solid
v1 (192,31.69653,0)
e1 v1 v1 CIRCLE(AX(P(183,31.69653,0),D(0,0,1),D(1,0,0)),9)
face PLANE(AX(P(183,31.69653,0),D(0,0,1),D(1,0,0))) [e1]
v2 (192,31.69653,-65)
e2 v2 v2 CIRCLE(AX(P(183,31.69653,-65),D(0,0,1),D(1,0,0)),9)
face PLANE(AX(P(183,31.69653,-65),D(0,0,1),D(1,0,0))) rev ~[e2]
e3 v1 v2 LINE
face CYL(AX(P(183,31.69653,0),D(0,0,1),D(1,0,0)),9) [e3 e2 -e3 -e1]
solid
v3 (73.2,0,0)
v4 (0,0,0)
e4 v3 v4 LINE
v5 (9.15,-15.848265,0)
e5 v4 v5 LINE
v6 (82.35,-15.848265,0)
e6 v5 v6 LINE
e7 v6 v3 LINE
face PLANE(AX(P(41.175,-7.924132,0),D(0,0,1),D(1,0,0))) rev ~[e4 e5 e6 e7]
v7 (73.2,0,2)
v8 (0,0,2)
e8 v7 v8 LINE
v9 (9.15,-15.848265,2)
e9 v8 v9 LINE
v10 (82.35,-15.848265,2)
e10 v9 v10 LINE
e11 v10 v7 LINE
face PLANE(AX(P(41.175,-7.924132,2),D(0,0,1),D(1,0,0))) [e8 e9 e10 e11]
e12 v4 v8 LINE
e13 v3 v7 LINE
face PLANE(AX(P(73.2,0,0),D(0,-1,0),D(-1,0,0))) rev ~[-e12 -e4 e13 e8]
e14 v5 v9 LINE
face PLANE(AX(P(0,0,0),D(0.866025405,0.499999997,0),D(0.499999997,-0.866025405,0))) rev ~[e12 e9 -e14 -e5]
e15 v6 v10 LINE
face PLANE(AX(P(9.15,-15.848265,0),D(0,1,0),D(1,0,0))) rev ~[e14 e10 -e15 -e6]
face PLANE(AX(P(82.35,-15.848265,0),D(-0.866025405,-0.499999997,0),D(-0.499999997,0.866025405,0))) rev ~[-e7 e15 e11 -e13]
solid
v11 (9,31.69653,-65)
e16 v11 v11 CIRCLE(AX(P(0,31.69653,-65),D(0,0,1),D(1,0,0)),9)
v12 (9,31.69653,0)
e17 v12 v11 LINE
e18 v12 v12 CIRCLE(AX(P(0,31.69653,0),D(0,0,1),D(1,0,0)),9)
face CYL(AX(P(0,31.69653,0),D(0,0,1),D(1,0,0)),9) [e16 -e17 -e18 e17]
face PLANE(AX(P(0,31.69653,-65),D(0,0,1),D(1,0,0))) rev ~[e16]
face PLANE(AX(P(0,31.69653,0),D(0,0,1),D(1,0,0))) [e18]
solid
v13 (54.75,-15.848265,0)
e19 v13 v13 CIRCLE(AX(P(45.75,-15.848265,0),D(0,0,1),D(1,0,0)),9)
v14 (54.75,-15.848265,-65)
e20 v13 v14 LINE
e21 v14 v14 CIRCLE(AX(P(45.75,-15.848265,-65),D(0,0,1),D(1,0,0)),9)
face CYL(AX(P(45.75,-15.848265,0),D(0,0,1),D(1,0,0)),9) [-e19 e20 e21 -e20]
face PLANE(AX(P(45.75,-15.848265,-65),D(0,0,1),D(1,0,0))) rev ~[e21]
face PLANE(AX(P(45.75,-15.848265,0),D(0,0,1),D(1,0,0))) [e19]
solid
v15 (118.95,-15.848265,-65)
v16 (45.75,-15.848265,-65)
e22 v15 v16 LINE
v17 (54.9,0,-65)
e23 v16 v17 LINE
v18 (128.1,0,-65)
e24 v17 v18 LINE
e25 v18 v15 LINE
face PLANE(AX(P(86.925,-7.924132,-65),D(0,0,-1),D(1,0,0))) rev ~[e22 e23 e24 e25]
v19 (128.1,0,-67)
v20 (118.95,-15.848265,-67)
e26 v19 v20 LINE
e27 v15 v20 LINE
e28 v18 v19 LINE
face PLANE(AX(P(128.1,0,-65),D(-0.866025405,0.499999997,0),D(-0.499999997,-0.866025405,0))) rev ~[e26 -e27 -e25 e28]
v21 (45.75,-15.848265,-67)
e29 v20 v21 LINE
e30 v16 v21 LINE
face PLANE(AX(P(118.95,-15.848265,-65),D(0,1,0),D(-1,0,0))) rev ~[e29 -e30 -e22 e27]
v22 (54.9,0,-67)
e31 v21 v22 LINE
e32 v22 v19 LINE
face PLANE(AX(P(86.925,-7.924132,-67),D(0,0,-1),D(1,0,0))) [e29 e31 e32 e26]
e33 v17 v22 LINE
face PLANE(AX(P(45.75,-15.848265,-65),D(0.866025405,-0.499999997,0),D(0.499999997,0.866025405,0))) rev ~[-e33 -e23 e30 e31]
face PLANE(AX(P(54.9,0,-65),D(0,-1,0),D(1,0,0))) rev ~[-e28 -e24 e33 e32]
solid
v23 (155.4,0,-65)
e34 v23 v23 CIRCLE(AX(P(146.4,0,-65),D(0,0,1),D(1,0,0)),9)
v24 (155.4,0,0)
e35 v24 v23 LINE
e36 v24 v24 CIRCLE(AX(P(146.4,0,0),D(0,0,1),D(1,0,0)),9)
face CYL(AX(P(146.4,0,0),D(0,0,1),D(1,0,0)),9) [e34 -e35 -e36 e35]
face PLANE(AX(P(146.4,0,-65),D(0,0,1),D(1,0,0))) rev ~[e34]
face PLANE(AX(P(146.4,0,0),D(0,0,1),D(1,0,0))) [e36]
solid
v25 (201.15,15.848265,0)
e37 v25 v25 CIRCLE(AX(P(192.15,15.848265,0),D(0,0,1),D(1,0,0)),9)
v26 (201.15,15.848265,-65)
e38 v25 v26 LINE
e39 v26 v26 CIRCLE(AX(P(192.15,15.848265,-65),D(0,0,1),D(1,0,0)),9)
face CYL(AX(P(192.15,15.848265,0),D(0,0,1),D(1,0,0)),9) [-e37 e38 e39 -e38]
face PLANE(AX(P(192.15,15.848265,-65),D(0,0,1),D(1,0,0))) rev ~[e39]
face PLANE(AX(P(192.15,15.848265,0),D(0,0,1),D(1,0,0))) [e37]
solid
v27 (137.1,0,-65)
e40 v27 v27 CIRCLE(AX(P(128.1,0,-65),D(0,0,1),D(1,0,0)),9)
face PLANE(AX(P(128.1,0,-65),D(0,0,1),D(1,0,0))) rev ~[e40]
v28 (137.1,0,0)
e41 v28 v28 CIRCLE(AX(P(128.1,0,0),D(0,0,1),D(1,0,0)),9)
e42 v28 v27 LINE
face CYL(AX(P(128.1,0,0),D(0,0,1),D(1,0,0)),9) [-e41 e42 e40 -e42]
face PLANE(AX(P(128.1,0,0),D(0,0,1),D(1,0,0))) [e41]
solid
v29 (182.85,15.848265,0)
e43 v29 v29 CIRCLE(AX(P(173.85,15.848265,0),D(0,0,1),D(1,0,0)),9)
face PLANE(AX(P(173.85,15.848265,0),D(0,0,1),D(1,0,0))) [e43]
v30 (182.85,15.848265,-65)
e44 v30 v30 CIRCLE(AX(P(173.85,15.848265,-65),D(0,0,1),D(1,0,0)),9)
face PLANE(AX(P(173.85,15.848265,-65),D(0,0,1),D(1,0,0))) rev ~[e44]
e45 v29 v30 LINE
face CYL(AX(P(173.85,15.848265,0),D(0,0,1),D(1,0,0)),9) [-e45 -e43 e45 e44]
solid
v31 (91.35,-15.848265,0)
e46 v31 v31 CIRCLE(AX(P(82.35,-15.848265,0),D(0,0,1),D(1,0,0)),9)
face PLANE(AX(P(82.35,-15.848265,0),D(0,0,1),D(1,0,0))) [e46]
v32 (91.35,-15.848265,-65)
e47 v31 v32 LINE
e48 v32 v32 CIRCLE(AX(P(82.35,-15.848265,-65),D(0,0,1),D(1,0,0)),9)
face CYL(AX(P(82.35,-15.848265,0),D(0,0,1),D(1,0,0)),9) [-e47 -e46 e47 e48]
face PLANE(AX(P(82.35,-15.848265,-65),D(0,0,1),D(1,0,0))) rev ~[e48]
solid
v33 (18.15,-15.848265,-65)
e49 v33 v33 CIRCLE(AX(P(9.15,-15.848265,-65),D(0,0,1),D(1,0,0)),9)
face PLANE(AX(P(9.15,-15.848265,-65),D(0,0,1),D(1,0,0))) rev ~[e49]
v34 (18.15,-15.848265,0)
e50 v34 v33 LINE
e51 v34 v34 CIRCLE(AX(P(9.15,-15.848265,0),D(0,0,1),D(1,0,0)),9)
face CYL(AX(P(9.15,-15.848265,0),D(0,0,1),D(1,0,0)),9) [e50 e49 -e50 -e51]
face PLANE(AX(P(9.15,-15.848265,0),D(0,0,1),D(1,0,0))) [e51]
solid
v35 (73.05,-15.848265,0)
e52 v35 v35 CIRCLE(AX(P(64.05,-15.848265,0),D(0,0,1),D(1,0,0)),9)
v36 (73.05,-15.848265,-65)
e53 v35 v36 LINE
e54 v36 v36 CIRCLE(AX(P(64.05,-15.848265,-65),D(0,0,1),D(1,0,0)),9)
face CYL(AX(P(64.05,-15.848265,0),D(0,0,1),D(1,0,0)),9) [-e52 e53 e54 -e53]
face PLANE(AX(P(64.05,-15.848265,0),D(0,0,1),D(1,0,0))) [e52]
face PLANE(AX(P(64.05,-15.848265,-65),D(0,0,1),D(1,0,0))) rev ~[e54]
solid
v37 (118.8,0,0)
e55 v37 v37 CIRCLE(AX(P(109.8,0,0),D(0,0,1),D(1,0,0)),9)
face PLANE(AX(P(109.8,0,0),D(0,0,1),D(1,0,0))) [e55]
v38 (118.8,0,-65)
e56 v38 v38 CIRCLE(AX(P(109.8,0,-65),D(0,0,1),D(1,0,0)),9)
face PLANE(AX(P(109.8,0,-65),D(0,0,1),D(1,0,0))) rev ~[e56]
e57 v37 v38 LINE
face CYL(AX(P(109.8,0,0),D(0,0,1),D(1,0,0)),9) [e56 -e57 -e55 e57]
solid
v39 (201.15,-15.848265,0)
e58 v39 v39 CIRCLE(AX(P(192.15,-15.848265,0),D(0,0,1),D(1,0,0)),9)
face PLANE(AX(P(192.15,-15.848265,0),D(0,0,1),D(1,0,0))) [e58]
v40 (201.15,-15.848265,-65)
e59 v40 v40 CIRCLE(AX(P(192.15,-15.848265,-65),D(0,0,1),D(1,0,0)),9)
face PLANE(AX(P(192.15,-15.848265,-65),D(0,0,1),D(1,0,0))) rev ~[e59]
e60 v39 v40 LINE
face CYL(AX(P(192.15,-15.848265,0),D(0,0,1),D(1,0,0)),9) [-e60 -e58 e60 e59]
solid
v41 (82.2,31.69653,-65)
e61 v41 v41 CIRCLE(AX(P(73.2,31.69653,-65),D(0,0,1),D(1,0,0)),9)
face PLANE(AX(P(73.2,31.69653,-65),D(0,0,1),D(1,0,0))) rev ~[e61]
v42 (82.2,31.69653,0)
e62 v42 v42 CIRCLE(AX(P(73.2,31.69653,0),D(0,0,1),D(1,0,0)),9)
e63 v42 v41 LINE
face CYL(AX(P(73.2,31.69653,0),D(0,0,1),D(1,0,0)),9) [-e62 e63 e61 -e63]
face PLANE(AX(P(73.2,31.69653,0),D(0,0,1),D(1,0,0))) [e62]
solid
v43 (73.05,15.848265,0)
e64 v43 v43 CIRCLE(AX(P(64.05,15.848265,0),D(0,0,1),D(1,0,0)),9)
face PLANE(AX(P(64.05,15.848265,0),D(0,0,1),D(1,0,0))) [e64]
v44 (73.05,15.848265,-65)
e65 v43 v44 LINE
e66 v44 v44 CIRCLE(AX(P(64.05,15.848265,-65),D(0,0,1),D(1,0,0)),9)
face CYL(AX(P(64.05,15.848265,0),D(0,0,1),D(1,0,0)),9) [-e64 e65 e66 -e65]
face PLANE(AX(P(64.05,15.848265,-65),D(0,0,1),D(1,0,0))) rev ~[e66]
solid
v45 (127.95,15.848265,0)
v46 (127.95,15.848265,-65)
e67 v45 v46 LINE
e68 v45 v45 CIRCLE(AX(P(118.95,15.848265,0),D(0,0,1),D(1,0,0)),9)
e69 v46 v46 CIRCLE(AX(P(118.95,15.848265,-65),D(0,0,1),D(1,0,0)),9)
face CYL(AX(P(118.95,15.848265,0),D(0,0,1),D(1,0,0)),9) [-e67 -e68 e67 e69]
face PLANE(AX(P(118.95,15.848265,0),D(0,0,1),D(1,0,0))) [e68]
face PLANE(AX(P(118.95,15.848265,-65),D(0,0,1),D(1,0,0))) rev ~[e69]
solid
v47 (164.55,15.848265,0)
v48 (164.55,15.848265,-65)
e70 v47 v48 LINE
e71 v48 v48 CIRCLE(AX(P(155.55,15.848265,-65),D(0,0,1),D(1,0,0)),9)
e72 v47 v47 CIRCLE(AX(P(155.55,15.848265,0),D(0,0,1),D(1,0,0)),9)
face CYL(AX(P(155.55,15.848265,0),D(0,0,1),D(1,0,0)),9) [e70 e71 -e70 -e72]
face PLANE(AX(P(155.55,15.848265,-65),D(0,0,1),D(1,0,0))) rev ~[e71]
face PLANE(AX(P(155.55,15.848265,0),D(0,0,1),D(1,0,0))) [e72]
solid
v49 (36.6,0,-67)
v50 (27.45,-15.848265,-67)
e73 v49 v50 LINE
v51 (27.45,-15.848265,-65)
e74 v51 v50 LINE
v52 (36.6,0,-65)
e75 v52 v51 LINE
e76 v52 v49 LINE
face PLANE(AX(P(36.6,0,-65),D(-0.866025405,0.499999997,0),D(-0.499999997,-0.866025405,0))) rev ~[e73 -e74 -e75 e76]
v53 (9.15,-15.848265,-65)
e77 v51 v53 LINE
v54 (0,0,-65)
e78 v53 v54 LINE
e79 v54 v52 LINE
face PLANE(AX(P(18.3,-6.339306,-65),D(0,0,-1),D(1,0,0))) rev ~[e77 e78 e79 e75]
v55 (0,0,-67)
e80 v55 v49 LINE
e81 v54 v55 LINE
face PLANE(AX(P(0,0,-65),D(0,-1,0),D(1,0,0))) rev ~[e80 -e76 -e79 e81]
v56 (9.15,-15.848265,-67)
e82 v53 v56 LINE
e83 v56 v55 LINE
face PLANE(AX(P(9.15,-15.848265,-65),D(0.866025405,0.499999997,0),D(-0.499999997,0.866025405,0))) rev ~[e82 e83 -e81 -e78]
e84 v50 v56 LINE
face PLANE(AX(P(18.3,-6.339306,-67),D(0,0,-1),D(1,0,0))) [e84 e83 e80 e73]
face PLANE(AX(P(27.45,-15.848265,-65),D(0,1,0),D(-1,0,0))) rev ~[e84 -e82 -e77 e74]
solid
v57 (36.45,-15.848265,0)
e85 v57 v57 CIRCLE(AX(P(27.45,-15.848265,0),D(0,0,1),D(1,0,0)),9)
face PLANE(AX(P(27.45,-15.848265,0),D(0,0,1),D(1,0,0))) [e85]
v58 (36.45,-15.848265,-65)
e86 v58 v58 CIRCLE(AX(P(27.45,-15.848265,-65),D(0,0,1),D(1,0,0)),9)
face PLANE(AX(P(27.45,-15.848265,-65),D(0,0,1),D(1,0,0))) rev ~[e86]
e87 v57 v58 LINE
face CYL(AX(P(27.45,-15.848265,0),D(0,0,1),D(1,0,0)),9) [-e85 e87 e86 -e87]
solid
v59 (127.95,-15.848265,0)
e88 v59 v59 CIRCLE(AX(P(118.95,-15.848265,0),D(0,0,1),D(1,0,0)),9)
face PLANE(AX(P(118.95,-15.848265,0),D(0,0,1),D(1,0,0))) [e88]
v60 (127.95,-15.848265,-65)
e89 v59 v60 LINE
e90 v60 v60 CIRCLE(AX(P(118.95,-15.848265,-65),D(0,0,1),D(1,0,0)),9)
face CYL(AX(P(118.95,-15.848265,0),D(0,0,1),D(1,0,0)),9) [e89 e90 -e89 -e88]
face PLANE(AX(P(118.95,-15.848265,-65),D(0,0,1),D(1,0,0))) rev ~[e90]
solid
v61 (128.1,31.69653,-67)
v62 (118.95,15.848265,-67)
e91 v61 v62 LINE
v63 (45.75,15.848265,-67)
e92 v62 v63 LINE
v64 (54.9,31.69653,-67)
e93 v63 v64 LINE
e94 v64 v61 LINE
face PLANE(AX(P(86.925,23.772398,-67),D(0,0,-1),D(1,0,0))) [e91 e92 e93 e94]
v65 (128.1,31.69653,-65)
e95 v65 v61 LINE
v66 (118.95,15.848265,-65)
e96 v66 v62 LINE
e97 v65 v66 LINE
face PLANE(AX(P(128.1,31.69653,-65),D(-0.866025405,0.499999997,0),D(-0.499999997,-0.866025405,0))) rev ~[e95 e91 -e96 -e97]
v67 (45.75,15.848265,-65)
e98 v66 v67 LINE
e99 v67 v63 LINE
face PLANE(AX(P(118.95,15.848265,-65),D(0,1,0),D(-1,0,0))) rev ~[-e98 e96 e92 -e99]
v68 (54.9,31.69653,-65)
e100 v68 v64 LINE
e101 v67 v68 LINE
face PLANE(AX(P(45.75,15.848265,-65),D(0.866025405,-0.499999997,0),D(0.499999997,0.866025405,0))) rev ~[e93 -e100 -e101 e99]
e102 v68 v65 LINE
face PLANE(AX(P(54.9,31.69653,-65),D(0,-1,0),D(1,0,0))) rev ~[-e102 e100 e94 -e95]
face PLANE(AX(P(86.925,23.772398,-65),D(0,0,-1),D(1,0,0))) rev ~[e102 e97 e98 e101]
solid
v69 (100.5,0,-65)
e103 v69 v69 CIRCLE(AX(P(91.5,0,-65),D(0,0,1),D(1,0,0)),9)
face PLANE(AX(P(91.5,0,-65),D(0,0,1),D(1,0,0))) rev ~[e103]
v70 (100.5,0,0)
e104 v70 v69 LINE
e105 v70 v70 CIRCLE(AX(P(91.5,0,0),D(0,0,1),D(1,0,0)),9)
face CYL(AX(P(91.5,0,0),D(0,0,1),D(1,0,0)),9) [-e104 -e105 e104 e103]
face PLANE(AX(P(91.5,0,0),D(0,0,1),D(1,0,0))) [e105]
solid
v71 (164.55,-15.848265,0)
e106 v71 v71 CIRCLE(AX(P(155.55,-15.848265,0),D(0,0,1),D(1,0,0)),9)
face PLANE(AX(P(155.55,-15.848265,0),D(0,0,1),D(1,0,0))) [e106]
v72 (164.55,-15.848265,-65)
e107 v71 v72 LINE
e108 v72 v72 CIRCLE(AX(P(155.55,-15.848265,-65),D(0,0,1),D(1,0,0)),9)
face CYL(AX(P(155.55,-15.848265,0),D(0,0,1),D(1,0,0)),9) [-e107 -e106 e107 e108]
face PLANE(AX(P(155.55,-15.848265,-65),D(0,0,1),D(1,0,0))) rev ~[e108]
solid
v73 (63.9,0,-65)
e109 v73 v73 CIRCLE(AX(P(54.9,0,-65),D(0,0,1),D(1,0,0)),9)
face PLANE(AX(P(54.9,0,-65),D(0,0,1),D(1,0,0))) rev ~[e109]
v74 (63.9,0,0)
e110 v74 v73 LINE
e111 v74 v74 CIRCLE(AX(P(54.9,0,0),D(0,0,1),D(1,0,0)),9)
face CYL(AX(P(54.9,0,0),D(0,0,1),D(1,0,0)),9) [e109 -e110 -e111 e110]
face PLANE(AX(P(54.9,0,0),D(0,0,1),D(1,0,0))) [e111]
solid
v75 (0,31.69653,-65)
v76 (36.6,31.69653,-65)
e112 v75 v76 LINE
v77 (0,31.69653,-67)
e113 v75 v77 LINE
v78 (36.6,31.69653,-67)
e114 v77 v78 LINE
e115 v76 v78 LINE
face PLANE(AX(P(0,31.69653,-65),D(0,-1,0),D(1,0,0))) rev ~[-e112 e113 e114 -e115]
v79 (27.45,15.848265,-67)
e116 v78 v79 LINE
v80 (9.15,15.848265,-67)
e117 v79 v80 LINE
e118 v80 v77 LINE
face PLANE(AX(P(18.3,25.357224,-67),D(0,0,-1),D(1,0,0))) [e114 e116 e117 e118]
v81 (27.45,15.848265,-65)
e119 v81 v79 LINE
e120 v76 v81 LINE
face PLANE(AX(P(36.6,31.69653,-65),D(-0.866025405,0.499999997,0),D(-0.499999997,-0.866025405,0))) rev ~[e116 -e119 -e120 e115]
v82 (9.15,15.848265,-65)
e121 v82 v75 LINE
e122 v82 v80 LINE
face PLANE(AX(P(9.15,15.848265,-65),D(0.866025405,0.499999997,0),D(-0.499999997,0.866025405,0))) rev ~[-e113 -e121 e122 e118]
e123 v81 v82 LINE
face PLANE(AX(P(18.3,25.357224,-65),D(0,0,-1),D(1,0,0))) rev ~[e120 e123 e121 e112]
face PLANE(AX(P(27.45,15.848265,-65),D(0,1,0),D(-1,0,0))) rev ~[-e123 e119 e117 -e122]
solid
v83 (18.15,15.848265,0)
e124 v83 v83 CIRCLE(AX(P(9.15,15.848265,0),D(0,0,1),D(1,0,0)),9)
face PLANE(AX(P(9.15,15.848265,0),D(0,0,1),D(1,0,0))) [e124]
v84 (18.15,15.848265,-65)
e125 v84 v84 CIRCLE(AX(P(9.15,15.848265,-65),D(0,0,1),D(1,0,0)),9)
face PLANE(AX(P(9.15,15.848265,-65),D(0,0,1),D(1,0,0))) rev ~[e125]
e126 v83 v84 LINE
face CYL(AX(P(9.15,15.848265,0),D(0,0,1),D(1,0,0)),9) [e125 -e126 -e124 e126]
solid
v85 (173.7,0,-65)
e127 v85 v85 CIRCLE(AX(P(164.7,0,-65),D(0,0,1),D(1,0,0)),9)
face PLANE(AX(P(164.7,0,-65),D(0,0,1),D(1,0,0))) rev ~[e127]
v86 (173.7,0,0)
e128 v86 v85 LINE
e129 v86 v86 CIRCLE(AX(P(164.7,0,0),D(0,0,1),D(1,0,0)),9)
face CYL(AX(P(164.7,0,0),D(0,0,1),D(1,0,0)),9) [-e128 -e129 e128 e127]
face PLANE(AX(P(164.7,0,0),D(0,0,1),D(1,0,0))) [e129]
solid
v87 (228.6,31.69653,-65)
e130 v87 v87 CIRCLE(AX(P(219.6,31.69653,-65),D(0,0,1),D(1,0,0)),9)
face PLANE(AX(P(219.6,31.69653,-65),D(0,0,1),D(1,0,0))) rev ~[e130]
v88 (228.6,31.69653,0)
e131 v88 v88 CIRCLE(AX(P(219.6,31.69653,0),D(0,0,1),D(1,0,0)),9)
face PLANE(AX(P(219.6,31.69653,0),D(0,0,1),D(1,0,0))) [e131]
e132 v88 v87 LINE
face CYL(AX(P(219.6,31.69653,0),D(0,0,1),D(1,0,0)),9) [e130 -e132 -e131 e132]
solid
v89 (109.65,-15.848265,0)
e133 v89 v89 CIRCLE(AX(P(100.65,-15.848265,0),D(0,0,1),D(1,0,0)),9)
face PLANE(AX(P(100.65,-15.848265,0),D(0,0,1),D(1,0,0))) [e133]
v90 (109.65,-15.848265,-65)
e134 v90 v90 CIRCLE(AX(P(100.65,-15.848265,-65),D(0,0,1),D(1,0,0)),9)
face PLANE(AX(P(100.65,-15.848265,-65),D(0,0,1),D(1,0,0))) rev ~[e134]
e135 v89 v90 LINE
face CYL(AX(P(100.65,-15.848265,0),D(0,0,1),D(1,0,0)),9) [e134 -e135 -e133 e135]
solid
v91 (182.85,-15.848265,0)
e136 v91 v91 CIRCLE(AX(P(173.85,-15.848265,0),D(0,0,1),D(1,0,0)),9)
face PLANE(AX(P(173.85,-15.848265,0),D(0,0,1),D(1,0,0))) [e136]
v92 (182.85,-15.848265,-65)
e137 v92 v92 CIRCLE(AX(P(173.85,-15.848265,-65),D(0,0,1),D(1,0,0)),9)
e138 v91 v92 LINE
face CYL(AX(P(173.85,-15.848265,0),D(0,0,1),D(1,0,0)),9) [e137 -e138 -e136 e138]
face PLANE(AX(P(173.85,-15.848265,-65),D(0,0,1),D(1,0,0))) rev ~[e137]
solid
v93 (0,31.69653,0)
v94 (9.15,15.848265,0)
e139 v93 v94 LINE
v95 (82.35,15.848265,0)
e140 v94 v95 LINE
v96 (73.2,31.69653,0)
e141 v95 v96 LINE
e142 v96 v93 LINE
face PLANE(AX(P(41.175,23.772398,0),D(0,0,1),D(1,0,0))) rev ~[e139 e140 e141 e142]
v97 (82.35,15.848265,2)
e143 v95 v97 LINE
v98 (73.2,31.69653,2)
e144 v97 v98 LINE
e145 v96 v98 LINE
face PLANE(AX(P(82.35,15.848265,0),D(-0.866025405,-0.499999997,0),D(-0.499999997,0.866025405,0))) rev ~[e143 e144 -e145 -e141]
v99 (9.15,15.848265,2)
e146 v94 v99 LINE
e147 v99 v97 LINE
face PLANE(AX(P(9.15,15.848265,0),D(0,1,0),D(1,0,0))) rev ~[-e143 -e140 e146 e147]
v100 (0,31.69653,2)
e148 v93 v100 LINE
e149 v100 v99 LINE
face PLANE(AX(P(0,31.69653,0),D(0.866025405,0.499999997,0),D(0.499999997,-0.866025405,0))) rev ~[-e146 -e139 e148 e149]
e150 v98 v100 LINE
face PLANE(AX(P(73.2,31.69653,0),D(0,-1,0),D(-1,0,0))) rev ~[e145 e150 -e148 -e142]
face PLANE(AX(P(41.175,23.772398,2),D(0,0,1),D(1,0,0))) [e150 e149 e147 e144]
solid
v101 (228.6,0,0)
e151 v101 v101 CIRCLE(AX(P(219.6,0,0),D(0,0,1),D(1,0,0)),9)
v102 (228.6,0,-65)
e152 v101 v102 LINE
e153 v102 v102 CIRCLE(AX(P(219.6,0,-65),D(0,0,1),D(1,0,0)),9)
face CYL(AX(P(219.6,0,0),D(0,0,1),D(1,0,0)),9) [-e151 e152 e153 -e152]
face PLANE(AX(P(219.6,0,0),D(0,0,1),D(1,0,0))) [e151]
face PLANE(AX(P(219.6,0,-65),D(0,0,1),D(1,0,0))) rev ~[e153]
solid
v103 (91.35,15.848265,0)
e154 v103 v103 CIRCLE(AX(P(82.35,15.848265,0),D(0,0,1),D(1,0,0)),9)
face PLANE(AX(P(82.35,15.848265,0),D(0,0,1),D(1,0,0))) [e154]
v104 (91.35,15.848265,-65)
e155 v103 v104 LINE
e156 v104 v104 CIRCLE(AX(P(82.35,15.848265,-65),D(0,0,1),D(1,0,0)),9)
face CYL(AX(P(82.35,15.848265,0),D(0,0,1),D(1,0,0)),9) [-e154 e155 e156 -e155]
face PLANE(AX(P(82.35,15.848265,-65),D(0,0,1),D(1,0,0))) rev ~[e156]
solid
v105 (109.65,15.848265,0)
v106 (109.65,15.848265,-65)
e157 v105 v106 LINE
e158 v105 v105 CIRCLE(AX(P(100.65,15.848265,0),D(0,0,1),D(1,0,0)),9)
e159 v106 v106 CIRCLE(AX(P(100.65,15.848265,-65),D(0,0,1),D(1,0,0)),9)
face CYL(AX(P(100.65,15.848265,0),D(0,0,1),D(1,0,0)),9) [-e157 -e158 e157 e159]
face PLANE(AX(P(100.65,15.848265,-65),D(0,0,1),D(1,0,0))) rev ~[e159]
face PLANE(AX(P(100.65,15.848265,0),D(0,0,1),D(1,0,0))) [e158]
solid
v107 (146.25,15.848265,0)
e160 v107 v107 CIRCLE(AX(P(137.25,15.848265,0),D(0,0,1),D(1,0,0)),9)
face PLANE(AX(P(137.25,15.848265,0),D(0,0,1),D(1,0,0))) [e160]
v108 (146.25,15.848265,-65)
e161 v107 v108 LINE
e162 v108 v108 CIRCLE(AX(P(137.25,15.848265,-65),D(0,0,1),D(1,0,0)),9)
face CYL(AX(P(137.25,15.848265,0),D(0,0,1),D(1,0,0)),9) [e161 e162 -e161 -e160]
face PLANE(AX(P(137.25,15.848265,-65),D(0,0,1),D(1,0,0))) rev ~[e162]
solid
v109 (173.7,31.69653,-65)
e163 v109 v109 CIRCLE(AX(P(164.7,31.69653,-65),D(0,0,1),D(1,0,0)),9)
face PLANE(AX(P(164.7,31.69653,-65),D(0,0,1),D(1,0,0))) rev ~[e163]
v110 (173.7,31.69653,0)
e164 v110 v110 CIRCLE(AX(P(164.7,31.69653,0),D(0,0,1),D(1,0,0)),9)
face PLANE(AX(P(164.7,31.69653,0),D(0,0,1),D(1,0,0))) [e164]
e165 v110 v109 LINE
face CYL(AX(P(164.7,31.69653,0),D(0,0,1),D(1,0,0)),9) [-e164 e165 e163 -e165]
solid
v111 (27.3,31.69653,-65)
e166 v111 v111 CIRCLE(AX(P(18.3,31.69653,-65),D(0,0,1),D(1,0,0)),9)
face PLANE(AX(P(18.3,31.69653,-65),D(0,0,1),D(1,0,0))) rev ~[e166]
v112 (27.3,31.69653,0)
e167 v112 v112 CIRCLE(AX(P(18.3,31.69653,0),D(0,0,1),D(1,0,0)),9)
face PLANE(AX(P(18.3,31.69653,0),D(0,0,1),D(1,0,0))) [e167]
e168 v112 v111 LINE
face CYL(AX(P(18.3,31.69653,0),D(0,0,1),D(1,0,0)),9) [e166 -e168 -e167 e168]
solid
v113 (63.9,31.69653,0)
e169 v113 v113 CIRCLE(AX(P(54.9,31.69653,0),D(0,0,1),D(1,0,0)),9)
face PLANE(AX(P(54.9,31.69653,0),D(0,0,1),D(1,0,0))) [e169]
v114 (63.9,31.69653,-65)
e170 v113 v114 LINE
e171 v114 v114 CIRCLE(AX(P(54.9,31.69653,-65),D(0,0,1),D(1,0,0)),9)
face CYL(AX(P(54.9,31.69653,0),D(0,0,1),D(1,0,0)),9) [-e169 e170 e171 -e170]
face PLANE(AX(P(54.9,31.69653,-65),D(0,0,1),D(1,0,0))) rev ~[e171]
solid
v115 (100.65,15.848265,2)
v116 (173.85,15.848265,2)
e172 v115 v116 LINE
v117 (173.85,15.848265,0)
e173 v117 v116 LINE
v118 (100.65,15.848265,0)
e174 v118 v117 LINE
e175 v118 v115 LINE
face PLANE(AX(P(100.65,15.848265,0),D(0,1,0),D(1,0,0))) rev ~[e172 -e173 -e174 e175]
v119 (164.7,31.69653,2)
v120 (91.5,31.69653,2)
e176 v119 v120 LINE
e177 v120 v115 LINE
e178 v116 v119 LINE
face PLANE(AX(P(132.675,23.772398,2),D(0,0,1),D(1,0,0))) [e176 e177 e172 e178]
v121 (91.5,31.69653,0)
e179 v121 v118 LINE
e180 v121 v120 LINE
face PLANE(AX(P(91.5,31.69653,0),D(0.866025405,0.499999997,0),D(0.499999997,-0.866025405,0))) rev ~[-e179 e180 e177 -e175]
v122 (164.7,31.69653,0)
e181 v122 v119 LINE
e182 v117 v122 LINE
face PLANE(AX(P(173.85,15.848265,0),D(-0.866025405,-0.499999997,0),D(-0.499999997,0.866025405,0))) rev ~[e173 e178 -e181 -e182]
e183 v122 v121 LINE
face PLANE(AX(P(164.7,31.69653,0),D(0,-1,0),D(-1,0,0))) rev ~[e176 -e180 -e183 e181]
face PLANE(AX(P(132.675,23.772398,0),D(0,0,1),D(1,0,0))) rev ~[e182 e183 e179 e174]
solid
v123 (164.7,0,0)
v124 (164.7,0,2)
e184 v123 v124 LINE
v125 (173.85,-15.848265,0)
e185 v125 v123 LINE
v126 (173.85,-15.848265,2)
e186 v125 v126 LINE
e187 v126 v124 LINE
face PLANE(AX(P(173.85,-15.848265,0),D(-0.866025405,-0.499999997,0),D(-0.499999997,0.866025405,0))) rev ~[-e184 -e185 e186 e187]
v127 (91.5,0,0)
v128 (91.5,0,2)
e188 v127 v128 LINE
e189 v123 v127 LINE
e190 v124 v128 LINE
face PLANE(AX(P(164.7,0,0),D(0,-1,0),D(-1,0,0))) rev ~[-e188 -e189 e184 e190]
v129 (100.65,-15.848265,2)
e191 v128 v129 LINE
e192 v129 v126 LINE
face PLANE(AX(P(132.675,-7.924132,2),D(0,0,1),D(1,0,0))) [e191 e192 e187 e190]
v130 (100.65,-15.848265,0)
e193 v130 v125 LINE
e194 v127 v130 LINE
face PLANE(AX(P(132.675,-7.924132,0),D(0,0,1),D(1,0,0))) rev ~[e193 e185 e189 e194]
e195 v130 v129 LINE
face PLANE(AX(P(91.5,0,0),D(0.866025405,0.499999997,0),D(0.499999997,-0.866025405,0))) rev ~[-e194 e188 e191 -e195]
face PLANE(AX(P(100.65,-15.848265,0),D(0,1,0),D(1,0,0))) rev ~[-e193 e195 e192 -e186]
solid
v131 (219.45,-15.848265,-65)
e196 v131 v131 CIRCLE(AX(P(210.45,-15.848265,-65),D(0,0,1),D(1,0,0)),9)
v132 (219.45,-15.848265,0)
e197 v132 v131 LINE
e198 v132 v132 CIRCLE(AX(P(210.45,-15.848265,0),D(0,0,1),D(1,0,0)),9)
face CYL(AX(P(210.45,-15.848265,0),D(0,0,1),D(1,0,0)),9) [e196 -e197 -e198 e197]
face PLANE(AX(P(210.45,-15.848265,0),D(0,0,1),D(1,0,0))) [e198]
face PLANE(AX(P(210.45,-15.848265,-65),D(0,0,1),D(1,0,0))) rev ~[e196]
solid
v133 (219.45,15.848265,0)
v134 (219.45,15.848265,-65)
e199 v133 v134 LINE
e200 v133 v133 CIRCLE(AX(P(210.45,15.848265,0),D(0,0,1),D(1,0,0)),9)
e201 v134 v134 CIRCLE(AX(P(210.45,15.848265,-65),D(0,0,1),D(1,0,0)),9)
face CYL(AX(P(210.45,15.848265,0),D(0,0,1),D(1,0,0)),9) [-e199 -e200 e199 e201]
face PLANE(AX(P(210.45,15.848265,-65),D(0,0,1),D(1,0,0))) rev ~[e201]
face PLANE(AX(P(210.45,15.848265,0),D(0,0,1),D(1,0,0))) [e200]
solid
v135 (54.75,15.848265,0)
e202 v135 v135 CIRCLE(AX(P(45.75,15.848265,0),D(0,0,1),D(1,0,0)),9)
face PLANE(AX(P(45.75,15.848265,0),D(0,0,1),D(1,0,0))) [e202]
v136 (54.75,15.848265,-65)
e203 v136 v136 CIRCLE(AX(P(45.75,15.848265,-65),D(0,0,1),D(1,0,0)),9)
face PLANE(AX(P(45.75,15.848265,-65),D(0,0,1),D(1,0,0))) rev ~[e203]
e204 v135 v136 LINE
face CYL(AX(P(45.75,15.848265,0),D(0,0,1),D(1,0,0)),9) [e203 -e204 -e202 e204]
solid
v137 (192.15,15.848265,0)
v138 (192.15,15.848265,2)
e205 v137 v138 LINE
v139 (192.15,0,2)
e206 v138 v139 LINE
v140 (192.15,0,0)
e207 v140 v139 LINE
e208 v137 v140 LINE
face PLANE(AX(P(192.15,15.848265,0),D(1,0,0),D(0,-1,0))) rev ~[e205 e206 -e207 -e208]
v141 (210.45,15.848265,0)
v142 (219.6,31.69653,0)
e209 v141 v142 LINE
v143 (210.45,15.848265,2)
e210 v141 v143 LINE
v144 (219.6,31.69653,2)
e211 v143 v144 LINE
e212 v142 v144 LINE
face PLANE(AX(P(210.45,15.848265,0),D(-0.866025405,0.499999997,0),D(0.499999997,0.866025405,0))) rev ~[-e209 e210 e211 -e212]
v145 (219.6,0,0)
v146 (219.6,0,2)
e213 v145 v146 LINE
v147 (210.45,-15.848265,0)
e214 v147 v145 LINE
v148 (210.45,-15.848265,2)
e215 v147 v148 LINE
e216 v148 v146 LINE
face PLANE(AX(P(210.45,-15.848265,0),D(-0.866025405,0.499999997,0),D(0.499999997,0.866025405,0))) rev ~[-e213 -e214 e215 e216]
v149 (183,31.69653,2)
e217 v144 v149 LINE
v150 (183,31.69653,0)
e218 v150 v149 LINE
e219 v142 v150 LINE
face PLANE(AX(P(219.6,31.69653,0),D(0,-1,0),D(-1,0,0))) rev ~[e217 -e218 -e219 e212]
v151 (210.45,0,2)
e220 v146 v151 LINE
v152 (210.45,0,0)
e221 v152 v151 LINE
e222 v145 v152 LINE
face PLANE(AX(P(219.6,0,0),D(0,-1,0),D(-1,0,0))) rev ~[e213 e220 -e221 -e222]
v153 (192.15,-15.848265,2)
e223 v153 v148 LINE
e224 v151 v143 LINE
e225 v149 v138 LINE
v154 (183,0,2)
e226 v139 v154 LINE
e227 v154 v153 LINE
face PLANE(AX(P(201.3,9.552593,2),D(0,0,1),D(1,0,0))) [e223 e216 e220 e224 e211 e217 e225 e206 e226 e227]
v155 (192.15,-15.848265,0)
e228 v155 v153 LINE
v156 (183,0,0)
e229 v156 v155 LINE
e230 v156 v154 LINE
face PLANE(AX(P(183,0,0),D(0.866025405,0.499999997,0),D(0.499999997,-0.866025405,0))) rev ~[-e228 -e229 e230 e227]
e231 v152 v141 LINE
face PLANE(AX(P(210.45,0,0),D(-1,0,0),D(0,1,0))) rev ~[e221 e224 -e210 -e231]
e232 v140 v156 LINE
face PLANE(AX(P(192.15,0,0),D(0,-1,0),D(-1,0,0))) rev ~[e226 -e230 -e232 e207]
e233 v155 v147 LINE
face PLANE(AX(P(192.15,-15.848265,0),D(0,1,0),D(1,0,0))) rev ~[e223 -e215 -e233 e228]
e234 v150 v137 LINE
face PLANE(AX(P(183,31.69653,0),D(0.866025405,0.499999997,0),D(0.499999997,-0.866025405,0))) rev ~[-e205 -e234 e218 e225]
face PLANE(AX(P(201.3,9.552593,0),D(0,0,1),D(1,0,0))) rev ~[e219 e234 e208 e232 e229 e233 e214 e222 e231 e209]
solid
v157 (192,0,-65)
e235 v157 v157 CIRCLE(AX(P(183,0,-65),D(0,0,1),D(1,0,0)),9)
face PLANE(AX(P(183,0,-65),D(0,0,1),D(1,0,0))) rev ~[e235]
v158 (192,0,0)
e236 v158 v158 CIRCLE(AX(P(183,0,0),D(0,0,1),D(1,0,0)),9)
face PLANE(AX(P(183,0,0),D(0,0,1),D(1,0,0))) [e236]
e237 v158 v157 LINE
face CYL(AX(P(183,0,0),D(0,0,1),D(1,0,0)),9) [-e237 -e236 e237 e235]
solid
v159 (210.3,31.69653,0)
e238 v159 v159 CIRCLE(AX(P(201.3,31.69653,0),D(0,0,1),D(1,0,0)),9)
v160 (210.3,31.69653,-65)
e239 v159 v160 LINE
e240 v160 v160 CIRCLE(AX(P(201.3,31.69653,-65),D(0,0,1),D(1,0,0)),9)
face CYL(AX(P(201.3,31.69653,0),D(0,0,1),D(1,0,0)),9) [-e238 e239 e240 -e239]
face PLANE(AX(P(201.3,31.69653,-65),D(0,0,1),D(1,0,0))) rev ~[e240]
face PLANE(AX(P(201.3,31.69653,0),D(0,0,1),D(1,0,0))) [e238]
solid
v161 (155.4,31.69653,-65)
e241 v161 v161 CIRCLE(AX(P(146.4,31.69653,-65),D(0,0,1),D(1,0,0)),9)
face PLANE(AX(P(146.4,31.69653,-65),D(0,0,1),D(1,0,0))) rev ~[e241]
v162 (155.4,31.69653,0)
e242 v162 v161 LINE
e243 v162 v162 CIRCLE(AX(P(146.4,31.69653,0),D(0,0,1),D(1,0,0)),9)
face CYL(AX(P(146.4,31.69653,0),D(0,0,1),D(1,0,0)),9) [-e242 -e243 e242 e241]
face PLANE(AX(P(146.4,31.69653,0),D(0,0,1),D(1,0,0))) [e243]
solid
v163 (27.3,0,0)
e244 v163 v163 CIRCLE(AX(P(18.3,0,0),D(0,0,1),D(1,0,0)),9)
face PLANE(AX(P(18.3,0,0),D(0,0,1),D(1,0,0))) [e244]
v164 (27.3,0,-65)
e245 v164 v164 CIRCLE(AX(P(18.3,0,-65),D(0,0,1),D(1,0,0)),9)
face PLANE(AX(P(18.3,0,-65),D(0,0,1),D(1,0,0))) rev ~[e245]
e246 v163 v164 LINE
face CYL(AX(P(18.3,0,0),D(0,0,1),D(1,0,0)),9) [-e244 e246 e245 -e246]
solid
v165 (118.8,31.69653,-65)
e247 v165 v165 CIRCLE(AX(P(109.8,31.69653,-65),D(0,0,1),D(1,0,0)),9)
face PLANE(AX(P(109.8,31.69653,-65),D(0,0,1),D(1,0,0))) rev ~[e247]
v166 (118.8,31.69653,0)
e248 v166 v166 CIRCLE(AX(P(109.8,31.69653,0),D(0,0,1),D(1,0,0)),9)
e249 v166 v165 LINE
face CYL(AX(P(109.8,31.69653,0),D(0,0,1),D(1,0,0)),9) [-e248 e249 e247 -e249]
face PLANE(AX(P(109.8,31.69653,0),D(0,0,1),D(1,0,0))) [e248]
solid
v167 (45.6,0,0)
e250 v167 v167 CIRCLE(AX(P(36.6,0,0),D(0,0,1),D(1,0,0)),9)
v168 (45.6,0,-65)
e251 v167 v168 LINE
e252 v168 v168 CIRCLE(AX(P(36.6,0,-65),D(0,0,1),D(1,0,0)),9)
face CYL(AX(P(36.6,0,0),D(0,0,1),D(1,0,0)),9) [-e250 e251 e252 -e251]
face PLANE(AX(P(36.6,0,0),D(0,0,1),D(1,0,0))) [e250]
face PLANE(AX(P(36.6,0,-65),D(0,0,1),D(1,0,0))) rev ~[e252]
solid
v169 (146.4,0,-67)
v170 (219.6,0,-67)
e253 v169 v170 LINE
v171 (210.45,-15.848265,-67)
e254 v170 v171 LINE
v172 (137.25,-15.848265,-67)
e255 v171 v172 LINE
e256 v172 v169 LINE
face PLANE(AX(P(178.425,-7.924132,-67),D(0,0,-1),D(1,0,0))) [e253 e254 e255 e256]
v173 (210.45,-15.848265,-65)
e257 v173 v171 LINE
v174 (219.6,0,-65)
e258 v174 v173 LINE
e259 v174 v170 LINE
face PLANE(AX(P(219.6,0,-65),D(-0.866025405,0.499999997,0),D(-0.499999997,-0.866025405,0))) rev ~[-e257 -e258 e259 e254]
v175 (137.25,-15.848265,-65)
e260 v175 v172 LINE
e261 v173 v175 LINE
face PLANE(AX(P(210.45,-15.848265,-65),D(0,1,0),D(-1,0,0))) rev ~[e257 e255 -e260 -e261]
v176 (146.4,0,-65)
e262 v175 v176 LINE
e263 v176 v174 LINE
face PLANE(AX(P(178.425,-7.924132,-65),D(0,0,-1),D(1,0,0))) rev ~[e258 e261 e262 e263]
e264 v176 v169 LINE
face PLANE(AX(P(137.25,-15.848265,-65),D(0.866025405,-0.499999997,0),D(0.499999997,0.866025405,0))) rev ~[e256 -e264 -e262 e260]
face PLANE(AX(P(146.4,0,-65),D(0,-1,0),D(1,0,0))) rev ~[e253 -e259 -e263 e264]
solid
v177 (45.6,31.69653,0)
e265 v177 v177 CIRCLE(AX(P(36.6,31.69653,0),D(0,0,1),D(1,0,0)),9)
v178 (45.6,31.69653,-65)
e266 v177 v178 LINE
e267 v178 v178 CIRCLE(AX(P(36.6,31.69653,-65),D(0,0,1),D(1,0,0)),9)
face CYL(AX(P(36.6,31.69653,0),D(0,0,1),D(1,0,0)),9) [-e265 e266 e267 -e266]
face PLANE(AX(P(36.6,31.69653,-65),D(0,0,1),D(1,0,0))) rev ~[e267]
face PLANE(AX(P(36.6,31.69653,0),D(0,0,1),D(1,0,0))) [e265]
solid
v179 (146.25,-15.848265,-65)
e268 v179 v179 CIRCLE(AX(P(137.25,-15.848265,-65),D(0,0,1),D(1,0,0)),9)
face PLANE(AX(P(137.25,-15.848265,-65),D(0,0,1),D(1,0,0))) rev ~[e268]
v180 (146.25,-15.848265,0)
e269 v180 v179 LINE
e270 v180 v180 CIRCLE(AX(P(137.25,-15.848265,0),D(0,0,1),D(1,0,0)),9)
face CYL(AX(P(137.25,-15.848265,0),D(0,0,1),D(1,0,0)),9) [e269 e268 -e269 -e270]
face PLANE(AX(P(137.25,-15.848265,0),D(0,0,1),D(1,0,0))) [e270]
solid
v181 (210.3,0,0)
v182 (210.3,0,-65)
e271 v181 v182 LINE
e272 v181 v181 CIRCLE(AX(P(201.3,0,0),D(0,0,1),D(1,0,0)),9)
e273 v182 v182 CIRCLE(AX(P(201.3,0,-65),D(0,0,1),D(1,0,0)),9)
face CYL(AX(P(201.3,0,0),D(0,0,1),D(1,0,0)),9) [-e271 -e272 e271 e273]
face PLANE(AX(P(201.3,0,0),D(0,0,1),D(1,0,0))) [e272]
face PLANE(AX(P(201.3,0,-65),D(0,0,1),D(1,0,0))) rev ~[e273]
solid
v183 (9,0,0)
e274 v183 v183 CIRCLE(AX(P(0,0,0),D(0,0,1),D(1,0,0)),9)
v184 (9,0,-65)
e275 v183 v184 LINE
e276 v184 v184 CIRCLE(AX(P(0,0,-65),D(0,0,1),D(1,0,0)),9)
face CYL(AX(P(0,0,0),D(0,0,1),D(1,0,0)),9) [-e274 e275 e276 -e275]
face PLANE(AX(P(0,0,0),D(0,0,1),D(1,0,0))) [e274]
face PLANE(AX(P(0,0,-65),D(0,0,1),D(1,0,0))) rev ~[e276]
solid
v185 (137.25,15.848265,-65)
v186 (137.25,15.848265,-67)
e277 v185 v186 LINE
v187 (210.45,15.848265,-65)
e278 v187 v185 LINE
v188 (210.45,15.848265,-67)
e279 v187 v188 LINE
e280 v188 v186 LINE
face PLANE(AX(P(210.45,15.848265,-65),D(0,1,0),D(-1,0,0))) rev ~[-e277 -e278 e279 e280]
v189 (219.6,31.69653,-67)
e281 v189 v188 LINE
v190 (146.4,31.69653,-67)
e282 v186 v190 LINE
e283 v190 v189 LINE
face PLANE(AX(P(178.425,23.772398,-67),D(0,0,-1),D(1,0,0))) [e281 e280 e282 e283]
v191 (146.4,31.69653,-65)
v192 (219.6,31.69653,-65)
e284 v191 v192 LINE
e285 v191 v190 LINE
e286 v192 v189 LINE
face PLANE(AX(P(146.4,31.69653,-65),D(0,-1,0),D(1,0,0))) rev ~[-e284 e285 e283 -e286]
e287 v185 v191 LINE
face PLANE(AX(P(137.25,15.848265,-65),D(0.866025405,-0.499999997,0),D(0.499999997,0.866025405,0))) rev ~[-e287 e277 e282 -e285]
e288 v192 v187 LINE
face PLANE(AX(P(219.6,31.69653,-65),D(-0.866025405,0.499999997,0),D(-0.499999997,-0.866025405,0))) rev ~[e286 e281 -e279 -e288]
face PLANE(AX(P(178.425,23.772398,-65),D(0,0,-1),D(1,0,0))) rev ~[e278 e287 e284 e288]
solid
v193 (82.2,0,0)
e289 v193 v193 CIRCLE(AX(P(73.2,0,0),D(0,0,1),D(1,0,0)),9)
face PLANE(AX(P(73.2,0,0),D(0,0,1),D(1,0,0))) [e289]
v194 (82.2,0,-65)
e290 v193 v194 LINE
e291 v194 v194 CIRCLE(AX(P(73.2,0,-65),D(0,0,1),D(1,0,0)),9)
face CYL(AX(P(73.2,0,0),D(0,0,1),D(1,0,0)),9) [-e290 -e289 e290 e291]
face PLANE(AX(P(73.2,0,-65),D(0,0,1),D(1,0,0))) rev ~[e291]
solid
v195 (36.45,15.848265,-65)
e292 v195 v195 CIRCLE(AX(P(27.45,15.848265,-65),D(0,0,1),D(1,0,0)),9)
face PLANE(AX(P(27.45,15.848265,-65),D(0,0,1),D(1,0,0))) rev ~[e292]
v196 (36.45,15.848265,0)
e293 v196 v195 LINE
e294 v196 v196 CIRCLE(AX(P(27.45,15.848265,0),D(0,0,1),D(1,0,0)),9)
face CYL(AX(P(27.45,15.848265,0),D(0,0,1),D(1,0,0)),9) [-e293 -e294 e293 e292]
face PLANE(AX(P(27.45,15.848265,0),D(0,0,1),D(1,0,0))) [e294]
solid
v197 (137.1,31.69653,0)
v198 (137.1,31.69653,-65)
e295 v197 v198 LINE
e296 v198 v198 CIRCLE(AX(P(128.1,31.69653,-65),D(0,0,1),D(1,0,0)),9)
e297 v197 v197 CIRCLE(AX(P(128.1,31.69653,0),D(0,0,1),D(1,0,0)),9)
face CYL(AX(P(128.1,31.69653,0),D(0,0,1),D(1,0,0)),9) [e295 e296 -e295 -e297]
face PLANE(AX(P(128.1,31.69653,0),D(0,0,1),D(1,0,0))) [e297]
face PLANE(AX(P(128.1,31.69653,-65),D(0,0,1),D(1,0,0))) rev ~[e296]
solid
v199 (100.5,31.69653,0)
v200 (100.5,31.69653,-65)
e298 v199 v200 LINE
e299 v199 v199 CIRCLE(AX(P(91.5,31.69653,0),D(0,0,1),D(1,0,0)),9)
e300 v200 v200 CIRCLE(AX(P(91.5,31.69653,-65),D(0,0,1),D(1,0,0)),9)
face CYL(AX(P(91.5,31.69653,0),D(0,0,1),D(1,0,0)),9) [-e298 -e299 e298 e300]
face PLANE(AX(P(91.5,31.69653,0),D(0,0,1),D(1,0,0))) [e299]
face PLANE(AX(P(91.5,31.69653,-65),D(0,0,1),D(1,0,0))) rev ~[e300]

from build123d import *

# Parameters (mm, degrees)
F2_DEPTH = 2
F0_R     = 9
F3_DEPTH = 65
F5_DEPTH = 2


with BuildPart() as f2:
    # F1 (on Top) → F2 (new body)
    with BuildSketch(Plane.XY):
        Polygon((36.6, 0), (0, 0), (9.15, -15.848265), (27.45, -15.848265), (45.75, -15.848265), (82.35, -15.848265), (73.2, 0), (54.9, 0), align=None)
        Polygon((9.15, 15.848265), (27.45, 15.848265), (45.75, 15.848265), (82.35, 15.848265), (73.2, 31.69653), (54.9, 31.69653), (36.6, 31.69653), (0, 31.69653), align=None)
        Polygon((192.15, 0), (183, 0), (192.15, -15.848265), (210.45, -15.848265), (219.6, 0), (210.45, 0), (210.45, 15.848265), (219.6, 31.69653), (183, 31.69653), (192.15, 15.848265), align=None)
        Polygon((100.65, -15.848265), (118.95, -15.848265), (137.25, -15.848265), (173.85, -15.848265), (164.7, 0), (146.4, 0), (128.1, 0), (91.5, 0), align=None)
        Polygon((91.5, 31.69653), (100.65, 15.848265), (118.95, 15.848265), (137.25, 15.848265), (173.85, 15.848265), (164.7, 31.69653), (146.4, 31.69653), (128.1, 31.69653), align=None)
    extrude(amount=F2_DEPTH)


with BuildPart() as f3:
    # F0 (on Top) → F3 (new body)
    with BuildSketch(Plane.XY):
        with Locations((0, 31.69653)):
            Circle(F0_R)
        with Locations((18.3, 31.69653)):
            Circle(F0_R)
        with Locations((27.45, 15.848265)):
            Circle(F0_R)
        with Locations((9.15, 15.848265)):
            Circle(F0_R)
        Circle(F0_R)
        with Locations((18.3, 0)):
            Circle(F0_R)
        with Locations((9.15, -15.848265)):
            Circle(F0_R)
        with Locations((27.45, -15.848265)):
            Circle(F0_R)
        with Locations((54.9, 0)):
            Circle(F0_R)
        with Locations((64.05, -15.848265)):
            Circle(F0_R)
        with Locations((54.9, 31.69653)):
            Circle(F0_R)
        with Locations((36.6, 31.69653)):
            Circle(F0_R)
        with Locations((45.75, 15.848265)):
            Circle(F0_R)
        with Locations((36.6, 0)):
            Circle(F0_R)
        with Locations((45.75, -15.848265)):
            Circle(F0_R)
        with Locations((64.05, 15.848265)):
            Circle(F0_R)
        with Locations((91.5, 0)):
            Circle(F0_R)
        with Locations((100.65, -15.848265)):
            Circle(F0_R)
        with Locations((91.5, 31.69653)):
            Circle(F0_R)
        with Locations((73.2, 31.69653)):
            Circle(F0_R)
        with Locations((82.35, 15.848265)):
            Circle(F0_R)
        with Locations((73.2, 0)):
            Circle(F0_R)
        with Locations((82.35, -15.848265)):
            Circle(F0_R)
        with Locations((100.65, 15.848265)):
            Circle(F0_R)
        with Locations((128.1, 0)):
            Circle(F0_R)
        with Locations((137.25, -15.848265)):
            Circle(F0_R)
        with Locations((128.1, 31.69653)):
            Circle(F0_R)
        with Locations((109.8, 31.69653)):
            Circle(F0_R)
        with Locations((118.95, 15.848265)):
            Circle(F0_R)
        with Locations((109.8, 0)):
            Circle(F0_R)
        with Locations((118.95, -15.848265)):
            Circle(F0_R)
        with Locations((137.25, 15.848265)):
            Circle(F0_R)
        with Locations((164.7, 0)):
            Circle(F0_R)
        with Locations((173.85, -15.848265)):
            Circle(F0_R)
        with Locations((164.7, 31.69653)):
            Circle(F0_R)
        with Locations((146.4, 31.69653)):
            Circle(F0_R)
        with Locations((155.55, 15.848265)):
            Circle(F0_R)
        with Locations((146.4, 0)):
            Circle(F0_R)
        with Locations((155.55, -15.848265)):
            Circle(F0_R)
        with Locations((173.85, 15.848265)):
            Circle(F0_R)
        with Locations((201.3, 0)):
            Circle(F0_R)
        with Locations((210.45, -15.848265)):
            Circle(F0_R)
        with Locations((201.3, 31.69653)):
            Circle(F0_R)
        with Locations((183, 31.69653)):
            Circle(F0_R)
        with Locations((192.15, 15.848265)):
            Circle(F0_R)
        with Locations((183, 0)):
            Circle(F0_R)
        with Locations((192.15, -15.848265)):
            Circle(F0_R)
        with Locations((210.45, 15.848265)):
            Circle(F0_R)
        with Locations((219.6, 31.69653)):
            Circle(F0_R)
        with Locations((219.6, 0)):
            Circle(F0_R)
    extrude(amount=-F3_DEPTH)


with BuildPart() as f5:
    # F4 (on face) → F5 (new body)
    with BuildSketch(Plane(origin=(0, 0, -65), x_dir=(1, 0, 0), z_dir=(0, 0, -1))):
        Polygon((9.15, -15.848265), (0, -31.69653), (36.6, -31.69653), (27.45, -15.848265), align=None)
        Polygon((9.15, 15.848265), (0, 0), (36.6, 0), (27.45, 15.848265), align=None)
        Polygon((118.95, 15.848265), (45.75, 15.848265), (54.9, 0), (128.1, 0), align=None)
        Polygon((118.95, -15.848265), (45.75, -15.848265), (54.9, -31.69653), (128.1, -31.69653), align=None)
        Polygon((210.45, 15.848265), (137.25, 15.848265), (146.4, 0), (219.6, 0), align=None)
        Polygon((210.45, -15.848265), (137.25, -15.848265), (146.4, -31.69653), (219.6, -31.69653), align=None)
    extrude(amount=F5_DEPTH)


solid = Compound([f2.part, f3.part, f5.part])
